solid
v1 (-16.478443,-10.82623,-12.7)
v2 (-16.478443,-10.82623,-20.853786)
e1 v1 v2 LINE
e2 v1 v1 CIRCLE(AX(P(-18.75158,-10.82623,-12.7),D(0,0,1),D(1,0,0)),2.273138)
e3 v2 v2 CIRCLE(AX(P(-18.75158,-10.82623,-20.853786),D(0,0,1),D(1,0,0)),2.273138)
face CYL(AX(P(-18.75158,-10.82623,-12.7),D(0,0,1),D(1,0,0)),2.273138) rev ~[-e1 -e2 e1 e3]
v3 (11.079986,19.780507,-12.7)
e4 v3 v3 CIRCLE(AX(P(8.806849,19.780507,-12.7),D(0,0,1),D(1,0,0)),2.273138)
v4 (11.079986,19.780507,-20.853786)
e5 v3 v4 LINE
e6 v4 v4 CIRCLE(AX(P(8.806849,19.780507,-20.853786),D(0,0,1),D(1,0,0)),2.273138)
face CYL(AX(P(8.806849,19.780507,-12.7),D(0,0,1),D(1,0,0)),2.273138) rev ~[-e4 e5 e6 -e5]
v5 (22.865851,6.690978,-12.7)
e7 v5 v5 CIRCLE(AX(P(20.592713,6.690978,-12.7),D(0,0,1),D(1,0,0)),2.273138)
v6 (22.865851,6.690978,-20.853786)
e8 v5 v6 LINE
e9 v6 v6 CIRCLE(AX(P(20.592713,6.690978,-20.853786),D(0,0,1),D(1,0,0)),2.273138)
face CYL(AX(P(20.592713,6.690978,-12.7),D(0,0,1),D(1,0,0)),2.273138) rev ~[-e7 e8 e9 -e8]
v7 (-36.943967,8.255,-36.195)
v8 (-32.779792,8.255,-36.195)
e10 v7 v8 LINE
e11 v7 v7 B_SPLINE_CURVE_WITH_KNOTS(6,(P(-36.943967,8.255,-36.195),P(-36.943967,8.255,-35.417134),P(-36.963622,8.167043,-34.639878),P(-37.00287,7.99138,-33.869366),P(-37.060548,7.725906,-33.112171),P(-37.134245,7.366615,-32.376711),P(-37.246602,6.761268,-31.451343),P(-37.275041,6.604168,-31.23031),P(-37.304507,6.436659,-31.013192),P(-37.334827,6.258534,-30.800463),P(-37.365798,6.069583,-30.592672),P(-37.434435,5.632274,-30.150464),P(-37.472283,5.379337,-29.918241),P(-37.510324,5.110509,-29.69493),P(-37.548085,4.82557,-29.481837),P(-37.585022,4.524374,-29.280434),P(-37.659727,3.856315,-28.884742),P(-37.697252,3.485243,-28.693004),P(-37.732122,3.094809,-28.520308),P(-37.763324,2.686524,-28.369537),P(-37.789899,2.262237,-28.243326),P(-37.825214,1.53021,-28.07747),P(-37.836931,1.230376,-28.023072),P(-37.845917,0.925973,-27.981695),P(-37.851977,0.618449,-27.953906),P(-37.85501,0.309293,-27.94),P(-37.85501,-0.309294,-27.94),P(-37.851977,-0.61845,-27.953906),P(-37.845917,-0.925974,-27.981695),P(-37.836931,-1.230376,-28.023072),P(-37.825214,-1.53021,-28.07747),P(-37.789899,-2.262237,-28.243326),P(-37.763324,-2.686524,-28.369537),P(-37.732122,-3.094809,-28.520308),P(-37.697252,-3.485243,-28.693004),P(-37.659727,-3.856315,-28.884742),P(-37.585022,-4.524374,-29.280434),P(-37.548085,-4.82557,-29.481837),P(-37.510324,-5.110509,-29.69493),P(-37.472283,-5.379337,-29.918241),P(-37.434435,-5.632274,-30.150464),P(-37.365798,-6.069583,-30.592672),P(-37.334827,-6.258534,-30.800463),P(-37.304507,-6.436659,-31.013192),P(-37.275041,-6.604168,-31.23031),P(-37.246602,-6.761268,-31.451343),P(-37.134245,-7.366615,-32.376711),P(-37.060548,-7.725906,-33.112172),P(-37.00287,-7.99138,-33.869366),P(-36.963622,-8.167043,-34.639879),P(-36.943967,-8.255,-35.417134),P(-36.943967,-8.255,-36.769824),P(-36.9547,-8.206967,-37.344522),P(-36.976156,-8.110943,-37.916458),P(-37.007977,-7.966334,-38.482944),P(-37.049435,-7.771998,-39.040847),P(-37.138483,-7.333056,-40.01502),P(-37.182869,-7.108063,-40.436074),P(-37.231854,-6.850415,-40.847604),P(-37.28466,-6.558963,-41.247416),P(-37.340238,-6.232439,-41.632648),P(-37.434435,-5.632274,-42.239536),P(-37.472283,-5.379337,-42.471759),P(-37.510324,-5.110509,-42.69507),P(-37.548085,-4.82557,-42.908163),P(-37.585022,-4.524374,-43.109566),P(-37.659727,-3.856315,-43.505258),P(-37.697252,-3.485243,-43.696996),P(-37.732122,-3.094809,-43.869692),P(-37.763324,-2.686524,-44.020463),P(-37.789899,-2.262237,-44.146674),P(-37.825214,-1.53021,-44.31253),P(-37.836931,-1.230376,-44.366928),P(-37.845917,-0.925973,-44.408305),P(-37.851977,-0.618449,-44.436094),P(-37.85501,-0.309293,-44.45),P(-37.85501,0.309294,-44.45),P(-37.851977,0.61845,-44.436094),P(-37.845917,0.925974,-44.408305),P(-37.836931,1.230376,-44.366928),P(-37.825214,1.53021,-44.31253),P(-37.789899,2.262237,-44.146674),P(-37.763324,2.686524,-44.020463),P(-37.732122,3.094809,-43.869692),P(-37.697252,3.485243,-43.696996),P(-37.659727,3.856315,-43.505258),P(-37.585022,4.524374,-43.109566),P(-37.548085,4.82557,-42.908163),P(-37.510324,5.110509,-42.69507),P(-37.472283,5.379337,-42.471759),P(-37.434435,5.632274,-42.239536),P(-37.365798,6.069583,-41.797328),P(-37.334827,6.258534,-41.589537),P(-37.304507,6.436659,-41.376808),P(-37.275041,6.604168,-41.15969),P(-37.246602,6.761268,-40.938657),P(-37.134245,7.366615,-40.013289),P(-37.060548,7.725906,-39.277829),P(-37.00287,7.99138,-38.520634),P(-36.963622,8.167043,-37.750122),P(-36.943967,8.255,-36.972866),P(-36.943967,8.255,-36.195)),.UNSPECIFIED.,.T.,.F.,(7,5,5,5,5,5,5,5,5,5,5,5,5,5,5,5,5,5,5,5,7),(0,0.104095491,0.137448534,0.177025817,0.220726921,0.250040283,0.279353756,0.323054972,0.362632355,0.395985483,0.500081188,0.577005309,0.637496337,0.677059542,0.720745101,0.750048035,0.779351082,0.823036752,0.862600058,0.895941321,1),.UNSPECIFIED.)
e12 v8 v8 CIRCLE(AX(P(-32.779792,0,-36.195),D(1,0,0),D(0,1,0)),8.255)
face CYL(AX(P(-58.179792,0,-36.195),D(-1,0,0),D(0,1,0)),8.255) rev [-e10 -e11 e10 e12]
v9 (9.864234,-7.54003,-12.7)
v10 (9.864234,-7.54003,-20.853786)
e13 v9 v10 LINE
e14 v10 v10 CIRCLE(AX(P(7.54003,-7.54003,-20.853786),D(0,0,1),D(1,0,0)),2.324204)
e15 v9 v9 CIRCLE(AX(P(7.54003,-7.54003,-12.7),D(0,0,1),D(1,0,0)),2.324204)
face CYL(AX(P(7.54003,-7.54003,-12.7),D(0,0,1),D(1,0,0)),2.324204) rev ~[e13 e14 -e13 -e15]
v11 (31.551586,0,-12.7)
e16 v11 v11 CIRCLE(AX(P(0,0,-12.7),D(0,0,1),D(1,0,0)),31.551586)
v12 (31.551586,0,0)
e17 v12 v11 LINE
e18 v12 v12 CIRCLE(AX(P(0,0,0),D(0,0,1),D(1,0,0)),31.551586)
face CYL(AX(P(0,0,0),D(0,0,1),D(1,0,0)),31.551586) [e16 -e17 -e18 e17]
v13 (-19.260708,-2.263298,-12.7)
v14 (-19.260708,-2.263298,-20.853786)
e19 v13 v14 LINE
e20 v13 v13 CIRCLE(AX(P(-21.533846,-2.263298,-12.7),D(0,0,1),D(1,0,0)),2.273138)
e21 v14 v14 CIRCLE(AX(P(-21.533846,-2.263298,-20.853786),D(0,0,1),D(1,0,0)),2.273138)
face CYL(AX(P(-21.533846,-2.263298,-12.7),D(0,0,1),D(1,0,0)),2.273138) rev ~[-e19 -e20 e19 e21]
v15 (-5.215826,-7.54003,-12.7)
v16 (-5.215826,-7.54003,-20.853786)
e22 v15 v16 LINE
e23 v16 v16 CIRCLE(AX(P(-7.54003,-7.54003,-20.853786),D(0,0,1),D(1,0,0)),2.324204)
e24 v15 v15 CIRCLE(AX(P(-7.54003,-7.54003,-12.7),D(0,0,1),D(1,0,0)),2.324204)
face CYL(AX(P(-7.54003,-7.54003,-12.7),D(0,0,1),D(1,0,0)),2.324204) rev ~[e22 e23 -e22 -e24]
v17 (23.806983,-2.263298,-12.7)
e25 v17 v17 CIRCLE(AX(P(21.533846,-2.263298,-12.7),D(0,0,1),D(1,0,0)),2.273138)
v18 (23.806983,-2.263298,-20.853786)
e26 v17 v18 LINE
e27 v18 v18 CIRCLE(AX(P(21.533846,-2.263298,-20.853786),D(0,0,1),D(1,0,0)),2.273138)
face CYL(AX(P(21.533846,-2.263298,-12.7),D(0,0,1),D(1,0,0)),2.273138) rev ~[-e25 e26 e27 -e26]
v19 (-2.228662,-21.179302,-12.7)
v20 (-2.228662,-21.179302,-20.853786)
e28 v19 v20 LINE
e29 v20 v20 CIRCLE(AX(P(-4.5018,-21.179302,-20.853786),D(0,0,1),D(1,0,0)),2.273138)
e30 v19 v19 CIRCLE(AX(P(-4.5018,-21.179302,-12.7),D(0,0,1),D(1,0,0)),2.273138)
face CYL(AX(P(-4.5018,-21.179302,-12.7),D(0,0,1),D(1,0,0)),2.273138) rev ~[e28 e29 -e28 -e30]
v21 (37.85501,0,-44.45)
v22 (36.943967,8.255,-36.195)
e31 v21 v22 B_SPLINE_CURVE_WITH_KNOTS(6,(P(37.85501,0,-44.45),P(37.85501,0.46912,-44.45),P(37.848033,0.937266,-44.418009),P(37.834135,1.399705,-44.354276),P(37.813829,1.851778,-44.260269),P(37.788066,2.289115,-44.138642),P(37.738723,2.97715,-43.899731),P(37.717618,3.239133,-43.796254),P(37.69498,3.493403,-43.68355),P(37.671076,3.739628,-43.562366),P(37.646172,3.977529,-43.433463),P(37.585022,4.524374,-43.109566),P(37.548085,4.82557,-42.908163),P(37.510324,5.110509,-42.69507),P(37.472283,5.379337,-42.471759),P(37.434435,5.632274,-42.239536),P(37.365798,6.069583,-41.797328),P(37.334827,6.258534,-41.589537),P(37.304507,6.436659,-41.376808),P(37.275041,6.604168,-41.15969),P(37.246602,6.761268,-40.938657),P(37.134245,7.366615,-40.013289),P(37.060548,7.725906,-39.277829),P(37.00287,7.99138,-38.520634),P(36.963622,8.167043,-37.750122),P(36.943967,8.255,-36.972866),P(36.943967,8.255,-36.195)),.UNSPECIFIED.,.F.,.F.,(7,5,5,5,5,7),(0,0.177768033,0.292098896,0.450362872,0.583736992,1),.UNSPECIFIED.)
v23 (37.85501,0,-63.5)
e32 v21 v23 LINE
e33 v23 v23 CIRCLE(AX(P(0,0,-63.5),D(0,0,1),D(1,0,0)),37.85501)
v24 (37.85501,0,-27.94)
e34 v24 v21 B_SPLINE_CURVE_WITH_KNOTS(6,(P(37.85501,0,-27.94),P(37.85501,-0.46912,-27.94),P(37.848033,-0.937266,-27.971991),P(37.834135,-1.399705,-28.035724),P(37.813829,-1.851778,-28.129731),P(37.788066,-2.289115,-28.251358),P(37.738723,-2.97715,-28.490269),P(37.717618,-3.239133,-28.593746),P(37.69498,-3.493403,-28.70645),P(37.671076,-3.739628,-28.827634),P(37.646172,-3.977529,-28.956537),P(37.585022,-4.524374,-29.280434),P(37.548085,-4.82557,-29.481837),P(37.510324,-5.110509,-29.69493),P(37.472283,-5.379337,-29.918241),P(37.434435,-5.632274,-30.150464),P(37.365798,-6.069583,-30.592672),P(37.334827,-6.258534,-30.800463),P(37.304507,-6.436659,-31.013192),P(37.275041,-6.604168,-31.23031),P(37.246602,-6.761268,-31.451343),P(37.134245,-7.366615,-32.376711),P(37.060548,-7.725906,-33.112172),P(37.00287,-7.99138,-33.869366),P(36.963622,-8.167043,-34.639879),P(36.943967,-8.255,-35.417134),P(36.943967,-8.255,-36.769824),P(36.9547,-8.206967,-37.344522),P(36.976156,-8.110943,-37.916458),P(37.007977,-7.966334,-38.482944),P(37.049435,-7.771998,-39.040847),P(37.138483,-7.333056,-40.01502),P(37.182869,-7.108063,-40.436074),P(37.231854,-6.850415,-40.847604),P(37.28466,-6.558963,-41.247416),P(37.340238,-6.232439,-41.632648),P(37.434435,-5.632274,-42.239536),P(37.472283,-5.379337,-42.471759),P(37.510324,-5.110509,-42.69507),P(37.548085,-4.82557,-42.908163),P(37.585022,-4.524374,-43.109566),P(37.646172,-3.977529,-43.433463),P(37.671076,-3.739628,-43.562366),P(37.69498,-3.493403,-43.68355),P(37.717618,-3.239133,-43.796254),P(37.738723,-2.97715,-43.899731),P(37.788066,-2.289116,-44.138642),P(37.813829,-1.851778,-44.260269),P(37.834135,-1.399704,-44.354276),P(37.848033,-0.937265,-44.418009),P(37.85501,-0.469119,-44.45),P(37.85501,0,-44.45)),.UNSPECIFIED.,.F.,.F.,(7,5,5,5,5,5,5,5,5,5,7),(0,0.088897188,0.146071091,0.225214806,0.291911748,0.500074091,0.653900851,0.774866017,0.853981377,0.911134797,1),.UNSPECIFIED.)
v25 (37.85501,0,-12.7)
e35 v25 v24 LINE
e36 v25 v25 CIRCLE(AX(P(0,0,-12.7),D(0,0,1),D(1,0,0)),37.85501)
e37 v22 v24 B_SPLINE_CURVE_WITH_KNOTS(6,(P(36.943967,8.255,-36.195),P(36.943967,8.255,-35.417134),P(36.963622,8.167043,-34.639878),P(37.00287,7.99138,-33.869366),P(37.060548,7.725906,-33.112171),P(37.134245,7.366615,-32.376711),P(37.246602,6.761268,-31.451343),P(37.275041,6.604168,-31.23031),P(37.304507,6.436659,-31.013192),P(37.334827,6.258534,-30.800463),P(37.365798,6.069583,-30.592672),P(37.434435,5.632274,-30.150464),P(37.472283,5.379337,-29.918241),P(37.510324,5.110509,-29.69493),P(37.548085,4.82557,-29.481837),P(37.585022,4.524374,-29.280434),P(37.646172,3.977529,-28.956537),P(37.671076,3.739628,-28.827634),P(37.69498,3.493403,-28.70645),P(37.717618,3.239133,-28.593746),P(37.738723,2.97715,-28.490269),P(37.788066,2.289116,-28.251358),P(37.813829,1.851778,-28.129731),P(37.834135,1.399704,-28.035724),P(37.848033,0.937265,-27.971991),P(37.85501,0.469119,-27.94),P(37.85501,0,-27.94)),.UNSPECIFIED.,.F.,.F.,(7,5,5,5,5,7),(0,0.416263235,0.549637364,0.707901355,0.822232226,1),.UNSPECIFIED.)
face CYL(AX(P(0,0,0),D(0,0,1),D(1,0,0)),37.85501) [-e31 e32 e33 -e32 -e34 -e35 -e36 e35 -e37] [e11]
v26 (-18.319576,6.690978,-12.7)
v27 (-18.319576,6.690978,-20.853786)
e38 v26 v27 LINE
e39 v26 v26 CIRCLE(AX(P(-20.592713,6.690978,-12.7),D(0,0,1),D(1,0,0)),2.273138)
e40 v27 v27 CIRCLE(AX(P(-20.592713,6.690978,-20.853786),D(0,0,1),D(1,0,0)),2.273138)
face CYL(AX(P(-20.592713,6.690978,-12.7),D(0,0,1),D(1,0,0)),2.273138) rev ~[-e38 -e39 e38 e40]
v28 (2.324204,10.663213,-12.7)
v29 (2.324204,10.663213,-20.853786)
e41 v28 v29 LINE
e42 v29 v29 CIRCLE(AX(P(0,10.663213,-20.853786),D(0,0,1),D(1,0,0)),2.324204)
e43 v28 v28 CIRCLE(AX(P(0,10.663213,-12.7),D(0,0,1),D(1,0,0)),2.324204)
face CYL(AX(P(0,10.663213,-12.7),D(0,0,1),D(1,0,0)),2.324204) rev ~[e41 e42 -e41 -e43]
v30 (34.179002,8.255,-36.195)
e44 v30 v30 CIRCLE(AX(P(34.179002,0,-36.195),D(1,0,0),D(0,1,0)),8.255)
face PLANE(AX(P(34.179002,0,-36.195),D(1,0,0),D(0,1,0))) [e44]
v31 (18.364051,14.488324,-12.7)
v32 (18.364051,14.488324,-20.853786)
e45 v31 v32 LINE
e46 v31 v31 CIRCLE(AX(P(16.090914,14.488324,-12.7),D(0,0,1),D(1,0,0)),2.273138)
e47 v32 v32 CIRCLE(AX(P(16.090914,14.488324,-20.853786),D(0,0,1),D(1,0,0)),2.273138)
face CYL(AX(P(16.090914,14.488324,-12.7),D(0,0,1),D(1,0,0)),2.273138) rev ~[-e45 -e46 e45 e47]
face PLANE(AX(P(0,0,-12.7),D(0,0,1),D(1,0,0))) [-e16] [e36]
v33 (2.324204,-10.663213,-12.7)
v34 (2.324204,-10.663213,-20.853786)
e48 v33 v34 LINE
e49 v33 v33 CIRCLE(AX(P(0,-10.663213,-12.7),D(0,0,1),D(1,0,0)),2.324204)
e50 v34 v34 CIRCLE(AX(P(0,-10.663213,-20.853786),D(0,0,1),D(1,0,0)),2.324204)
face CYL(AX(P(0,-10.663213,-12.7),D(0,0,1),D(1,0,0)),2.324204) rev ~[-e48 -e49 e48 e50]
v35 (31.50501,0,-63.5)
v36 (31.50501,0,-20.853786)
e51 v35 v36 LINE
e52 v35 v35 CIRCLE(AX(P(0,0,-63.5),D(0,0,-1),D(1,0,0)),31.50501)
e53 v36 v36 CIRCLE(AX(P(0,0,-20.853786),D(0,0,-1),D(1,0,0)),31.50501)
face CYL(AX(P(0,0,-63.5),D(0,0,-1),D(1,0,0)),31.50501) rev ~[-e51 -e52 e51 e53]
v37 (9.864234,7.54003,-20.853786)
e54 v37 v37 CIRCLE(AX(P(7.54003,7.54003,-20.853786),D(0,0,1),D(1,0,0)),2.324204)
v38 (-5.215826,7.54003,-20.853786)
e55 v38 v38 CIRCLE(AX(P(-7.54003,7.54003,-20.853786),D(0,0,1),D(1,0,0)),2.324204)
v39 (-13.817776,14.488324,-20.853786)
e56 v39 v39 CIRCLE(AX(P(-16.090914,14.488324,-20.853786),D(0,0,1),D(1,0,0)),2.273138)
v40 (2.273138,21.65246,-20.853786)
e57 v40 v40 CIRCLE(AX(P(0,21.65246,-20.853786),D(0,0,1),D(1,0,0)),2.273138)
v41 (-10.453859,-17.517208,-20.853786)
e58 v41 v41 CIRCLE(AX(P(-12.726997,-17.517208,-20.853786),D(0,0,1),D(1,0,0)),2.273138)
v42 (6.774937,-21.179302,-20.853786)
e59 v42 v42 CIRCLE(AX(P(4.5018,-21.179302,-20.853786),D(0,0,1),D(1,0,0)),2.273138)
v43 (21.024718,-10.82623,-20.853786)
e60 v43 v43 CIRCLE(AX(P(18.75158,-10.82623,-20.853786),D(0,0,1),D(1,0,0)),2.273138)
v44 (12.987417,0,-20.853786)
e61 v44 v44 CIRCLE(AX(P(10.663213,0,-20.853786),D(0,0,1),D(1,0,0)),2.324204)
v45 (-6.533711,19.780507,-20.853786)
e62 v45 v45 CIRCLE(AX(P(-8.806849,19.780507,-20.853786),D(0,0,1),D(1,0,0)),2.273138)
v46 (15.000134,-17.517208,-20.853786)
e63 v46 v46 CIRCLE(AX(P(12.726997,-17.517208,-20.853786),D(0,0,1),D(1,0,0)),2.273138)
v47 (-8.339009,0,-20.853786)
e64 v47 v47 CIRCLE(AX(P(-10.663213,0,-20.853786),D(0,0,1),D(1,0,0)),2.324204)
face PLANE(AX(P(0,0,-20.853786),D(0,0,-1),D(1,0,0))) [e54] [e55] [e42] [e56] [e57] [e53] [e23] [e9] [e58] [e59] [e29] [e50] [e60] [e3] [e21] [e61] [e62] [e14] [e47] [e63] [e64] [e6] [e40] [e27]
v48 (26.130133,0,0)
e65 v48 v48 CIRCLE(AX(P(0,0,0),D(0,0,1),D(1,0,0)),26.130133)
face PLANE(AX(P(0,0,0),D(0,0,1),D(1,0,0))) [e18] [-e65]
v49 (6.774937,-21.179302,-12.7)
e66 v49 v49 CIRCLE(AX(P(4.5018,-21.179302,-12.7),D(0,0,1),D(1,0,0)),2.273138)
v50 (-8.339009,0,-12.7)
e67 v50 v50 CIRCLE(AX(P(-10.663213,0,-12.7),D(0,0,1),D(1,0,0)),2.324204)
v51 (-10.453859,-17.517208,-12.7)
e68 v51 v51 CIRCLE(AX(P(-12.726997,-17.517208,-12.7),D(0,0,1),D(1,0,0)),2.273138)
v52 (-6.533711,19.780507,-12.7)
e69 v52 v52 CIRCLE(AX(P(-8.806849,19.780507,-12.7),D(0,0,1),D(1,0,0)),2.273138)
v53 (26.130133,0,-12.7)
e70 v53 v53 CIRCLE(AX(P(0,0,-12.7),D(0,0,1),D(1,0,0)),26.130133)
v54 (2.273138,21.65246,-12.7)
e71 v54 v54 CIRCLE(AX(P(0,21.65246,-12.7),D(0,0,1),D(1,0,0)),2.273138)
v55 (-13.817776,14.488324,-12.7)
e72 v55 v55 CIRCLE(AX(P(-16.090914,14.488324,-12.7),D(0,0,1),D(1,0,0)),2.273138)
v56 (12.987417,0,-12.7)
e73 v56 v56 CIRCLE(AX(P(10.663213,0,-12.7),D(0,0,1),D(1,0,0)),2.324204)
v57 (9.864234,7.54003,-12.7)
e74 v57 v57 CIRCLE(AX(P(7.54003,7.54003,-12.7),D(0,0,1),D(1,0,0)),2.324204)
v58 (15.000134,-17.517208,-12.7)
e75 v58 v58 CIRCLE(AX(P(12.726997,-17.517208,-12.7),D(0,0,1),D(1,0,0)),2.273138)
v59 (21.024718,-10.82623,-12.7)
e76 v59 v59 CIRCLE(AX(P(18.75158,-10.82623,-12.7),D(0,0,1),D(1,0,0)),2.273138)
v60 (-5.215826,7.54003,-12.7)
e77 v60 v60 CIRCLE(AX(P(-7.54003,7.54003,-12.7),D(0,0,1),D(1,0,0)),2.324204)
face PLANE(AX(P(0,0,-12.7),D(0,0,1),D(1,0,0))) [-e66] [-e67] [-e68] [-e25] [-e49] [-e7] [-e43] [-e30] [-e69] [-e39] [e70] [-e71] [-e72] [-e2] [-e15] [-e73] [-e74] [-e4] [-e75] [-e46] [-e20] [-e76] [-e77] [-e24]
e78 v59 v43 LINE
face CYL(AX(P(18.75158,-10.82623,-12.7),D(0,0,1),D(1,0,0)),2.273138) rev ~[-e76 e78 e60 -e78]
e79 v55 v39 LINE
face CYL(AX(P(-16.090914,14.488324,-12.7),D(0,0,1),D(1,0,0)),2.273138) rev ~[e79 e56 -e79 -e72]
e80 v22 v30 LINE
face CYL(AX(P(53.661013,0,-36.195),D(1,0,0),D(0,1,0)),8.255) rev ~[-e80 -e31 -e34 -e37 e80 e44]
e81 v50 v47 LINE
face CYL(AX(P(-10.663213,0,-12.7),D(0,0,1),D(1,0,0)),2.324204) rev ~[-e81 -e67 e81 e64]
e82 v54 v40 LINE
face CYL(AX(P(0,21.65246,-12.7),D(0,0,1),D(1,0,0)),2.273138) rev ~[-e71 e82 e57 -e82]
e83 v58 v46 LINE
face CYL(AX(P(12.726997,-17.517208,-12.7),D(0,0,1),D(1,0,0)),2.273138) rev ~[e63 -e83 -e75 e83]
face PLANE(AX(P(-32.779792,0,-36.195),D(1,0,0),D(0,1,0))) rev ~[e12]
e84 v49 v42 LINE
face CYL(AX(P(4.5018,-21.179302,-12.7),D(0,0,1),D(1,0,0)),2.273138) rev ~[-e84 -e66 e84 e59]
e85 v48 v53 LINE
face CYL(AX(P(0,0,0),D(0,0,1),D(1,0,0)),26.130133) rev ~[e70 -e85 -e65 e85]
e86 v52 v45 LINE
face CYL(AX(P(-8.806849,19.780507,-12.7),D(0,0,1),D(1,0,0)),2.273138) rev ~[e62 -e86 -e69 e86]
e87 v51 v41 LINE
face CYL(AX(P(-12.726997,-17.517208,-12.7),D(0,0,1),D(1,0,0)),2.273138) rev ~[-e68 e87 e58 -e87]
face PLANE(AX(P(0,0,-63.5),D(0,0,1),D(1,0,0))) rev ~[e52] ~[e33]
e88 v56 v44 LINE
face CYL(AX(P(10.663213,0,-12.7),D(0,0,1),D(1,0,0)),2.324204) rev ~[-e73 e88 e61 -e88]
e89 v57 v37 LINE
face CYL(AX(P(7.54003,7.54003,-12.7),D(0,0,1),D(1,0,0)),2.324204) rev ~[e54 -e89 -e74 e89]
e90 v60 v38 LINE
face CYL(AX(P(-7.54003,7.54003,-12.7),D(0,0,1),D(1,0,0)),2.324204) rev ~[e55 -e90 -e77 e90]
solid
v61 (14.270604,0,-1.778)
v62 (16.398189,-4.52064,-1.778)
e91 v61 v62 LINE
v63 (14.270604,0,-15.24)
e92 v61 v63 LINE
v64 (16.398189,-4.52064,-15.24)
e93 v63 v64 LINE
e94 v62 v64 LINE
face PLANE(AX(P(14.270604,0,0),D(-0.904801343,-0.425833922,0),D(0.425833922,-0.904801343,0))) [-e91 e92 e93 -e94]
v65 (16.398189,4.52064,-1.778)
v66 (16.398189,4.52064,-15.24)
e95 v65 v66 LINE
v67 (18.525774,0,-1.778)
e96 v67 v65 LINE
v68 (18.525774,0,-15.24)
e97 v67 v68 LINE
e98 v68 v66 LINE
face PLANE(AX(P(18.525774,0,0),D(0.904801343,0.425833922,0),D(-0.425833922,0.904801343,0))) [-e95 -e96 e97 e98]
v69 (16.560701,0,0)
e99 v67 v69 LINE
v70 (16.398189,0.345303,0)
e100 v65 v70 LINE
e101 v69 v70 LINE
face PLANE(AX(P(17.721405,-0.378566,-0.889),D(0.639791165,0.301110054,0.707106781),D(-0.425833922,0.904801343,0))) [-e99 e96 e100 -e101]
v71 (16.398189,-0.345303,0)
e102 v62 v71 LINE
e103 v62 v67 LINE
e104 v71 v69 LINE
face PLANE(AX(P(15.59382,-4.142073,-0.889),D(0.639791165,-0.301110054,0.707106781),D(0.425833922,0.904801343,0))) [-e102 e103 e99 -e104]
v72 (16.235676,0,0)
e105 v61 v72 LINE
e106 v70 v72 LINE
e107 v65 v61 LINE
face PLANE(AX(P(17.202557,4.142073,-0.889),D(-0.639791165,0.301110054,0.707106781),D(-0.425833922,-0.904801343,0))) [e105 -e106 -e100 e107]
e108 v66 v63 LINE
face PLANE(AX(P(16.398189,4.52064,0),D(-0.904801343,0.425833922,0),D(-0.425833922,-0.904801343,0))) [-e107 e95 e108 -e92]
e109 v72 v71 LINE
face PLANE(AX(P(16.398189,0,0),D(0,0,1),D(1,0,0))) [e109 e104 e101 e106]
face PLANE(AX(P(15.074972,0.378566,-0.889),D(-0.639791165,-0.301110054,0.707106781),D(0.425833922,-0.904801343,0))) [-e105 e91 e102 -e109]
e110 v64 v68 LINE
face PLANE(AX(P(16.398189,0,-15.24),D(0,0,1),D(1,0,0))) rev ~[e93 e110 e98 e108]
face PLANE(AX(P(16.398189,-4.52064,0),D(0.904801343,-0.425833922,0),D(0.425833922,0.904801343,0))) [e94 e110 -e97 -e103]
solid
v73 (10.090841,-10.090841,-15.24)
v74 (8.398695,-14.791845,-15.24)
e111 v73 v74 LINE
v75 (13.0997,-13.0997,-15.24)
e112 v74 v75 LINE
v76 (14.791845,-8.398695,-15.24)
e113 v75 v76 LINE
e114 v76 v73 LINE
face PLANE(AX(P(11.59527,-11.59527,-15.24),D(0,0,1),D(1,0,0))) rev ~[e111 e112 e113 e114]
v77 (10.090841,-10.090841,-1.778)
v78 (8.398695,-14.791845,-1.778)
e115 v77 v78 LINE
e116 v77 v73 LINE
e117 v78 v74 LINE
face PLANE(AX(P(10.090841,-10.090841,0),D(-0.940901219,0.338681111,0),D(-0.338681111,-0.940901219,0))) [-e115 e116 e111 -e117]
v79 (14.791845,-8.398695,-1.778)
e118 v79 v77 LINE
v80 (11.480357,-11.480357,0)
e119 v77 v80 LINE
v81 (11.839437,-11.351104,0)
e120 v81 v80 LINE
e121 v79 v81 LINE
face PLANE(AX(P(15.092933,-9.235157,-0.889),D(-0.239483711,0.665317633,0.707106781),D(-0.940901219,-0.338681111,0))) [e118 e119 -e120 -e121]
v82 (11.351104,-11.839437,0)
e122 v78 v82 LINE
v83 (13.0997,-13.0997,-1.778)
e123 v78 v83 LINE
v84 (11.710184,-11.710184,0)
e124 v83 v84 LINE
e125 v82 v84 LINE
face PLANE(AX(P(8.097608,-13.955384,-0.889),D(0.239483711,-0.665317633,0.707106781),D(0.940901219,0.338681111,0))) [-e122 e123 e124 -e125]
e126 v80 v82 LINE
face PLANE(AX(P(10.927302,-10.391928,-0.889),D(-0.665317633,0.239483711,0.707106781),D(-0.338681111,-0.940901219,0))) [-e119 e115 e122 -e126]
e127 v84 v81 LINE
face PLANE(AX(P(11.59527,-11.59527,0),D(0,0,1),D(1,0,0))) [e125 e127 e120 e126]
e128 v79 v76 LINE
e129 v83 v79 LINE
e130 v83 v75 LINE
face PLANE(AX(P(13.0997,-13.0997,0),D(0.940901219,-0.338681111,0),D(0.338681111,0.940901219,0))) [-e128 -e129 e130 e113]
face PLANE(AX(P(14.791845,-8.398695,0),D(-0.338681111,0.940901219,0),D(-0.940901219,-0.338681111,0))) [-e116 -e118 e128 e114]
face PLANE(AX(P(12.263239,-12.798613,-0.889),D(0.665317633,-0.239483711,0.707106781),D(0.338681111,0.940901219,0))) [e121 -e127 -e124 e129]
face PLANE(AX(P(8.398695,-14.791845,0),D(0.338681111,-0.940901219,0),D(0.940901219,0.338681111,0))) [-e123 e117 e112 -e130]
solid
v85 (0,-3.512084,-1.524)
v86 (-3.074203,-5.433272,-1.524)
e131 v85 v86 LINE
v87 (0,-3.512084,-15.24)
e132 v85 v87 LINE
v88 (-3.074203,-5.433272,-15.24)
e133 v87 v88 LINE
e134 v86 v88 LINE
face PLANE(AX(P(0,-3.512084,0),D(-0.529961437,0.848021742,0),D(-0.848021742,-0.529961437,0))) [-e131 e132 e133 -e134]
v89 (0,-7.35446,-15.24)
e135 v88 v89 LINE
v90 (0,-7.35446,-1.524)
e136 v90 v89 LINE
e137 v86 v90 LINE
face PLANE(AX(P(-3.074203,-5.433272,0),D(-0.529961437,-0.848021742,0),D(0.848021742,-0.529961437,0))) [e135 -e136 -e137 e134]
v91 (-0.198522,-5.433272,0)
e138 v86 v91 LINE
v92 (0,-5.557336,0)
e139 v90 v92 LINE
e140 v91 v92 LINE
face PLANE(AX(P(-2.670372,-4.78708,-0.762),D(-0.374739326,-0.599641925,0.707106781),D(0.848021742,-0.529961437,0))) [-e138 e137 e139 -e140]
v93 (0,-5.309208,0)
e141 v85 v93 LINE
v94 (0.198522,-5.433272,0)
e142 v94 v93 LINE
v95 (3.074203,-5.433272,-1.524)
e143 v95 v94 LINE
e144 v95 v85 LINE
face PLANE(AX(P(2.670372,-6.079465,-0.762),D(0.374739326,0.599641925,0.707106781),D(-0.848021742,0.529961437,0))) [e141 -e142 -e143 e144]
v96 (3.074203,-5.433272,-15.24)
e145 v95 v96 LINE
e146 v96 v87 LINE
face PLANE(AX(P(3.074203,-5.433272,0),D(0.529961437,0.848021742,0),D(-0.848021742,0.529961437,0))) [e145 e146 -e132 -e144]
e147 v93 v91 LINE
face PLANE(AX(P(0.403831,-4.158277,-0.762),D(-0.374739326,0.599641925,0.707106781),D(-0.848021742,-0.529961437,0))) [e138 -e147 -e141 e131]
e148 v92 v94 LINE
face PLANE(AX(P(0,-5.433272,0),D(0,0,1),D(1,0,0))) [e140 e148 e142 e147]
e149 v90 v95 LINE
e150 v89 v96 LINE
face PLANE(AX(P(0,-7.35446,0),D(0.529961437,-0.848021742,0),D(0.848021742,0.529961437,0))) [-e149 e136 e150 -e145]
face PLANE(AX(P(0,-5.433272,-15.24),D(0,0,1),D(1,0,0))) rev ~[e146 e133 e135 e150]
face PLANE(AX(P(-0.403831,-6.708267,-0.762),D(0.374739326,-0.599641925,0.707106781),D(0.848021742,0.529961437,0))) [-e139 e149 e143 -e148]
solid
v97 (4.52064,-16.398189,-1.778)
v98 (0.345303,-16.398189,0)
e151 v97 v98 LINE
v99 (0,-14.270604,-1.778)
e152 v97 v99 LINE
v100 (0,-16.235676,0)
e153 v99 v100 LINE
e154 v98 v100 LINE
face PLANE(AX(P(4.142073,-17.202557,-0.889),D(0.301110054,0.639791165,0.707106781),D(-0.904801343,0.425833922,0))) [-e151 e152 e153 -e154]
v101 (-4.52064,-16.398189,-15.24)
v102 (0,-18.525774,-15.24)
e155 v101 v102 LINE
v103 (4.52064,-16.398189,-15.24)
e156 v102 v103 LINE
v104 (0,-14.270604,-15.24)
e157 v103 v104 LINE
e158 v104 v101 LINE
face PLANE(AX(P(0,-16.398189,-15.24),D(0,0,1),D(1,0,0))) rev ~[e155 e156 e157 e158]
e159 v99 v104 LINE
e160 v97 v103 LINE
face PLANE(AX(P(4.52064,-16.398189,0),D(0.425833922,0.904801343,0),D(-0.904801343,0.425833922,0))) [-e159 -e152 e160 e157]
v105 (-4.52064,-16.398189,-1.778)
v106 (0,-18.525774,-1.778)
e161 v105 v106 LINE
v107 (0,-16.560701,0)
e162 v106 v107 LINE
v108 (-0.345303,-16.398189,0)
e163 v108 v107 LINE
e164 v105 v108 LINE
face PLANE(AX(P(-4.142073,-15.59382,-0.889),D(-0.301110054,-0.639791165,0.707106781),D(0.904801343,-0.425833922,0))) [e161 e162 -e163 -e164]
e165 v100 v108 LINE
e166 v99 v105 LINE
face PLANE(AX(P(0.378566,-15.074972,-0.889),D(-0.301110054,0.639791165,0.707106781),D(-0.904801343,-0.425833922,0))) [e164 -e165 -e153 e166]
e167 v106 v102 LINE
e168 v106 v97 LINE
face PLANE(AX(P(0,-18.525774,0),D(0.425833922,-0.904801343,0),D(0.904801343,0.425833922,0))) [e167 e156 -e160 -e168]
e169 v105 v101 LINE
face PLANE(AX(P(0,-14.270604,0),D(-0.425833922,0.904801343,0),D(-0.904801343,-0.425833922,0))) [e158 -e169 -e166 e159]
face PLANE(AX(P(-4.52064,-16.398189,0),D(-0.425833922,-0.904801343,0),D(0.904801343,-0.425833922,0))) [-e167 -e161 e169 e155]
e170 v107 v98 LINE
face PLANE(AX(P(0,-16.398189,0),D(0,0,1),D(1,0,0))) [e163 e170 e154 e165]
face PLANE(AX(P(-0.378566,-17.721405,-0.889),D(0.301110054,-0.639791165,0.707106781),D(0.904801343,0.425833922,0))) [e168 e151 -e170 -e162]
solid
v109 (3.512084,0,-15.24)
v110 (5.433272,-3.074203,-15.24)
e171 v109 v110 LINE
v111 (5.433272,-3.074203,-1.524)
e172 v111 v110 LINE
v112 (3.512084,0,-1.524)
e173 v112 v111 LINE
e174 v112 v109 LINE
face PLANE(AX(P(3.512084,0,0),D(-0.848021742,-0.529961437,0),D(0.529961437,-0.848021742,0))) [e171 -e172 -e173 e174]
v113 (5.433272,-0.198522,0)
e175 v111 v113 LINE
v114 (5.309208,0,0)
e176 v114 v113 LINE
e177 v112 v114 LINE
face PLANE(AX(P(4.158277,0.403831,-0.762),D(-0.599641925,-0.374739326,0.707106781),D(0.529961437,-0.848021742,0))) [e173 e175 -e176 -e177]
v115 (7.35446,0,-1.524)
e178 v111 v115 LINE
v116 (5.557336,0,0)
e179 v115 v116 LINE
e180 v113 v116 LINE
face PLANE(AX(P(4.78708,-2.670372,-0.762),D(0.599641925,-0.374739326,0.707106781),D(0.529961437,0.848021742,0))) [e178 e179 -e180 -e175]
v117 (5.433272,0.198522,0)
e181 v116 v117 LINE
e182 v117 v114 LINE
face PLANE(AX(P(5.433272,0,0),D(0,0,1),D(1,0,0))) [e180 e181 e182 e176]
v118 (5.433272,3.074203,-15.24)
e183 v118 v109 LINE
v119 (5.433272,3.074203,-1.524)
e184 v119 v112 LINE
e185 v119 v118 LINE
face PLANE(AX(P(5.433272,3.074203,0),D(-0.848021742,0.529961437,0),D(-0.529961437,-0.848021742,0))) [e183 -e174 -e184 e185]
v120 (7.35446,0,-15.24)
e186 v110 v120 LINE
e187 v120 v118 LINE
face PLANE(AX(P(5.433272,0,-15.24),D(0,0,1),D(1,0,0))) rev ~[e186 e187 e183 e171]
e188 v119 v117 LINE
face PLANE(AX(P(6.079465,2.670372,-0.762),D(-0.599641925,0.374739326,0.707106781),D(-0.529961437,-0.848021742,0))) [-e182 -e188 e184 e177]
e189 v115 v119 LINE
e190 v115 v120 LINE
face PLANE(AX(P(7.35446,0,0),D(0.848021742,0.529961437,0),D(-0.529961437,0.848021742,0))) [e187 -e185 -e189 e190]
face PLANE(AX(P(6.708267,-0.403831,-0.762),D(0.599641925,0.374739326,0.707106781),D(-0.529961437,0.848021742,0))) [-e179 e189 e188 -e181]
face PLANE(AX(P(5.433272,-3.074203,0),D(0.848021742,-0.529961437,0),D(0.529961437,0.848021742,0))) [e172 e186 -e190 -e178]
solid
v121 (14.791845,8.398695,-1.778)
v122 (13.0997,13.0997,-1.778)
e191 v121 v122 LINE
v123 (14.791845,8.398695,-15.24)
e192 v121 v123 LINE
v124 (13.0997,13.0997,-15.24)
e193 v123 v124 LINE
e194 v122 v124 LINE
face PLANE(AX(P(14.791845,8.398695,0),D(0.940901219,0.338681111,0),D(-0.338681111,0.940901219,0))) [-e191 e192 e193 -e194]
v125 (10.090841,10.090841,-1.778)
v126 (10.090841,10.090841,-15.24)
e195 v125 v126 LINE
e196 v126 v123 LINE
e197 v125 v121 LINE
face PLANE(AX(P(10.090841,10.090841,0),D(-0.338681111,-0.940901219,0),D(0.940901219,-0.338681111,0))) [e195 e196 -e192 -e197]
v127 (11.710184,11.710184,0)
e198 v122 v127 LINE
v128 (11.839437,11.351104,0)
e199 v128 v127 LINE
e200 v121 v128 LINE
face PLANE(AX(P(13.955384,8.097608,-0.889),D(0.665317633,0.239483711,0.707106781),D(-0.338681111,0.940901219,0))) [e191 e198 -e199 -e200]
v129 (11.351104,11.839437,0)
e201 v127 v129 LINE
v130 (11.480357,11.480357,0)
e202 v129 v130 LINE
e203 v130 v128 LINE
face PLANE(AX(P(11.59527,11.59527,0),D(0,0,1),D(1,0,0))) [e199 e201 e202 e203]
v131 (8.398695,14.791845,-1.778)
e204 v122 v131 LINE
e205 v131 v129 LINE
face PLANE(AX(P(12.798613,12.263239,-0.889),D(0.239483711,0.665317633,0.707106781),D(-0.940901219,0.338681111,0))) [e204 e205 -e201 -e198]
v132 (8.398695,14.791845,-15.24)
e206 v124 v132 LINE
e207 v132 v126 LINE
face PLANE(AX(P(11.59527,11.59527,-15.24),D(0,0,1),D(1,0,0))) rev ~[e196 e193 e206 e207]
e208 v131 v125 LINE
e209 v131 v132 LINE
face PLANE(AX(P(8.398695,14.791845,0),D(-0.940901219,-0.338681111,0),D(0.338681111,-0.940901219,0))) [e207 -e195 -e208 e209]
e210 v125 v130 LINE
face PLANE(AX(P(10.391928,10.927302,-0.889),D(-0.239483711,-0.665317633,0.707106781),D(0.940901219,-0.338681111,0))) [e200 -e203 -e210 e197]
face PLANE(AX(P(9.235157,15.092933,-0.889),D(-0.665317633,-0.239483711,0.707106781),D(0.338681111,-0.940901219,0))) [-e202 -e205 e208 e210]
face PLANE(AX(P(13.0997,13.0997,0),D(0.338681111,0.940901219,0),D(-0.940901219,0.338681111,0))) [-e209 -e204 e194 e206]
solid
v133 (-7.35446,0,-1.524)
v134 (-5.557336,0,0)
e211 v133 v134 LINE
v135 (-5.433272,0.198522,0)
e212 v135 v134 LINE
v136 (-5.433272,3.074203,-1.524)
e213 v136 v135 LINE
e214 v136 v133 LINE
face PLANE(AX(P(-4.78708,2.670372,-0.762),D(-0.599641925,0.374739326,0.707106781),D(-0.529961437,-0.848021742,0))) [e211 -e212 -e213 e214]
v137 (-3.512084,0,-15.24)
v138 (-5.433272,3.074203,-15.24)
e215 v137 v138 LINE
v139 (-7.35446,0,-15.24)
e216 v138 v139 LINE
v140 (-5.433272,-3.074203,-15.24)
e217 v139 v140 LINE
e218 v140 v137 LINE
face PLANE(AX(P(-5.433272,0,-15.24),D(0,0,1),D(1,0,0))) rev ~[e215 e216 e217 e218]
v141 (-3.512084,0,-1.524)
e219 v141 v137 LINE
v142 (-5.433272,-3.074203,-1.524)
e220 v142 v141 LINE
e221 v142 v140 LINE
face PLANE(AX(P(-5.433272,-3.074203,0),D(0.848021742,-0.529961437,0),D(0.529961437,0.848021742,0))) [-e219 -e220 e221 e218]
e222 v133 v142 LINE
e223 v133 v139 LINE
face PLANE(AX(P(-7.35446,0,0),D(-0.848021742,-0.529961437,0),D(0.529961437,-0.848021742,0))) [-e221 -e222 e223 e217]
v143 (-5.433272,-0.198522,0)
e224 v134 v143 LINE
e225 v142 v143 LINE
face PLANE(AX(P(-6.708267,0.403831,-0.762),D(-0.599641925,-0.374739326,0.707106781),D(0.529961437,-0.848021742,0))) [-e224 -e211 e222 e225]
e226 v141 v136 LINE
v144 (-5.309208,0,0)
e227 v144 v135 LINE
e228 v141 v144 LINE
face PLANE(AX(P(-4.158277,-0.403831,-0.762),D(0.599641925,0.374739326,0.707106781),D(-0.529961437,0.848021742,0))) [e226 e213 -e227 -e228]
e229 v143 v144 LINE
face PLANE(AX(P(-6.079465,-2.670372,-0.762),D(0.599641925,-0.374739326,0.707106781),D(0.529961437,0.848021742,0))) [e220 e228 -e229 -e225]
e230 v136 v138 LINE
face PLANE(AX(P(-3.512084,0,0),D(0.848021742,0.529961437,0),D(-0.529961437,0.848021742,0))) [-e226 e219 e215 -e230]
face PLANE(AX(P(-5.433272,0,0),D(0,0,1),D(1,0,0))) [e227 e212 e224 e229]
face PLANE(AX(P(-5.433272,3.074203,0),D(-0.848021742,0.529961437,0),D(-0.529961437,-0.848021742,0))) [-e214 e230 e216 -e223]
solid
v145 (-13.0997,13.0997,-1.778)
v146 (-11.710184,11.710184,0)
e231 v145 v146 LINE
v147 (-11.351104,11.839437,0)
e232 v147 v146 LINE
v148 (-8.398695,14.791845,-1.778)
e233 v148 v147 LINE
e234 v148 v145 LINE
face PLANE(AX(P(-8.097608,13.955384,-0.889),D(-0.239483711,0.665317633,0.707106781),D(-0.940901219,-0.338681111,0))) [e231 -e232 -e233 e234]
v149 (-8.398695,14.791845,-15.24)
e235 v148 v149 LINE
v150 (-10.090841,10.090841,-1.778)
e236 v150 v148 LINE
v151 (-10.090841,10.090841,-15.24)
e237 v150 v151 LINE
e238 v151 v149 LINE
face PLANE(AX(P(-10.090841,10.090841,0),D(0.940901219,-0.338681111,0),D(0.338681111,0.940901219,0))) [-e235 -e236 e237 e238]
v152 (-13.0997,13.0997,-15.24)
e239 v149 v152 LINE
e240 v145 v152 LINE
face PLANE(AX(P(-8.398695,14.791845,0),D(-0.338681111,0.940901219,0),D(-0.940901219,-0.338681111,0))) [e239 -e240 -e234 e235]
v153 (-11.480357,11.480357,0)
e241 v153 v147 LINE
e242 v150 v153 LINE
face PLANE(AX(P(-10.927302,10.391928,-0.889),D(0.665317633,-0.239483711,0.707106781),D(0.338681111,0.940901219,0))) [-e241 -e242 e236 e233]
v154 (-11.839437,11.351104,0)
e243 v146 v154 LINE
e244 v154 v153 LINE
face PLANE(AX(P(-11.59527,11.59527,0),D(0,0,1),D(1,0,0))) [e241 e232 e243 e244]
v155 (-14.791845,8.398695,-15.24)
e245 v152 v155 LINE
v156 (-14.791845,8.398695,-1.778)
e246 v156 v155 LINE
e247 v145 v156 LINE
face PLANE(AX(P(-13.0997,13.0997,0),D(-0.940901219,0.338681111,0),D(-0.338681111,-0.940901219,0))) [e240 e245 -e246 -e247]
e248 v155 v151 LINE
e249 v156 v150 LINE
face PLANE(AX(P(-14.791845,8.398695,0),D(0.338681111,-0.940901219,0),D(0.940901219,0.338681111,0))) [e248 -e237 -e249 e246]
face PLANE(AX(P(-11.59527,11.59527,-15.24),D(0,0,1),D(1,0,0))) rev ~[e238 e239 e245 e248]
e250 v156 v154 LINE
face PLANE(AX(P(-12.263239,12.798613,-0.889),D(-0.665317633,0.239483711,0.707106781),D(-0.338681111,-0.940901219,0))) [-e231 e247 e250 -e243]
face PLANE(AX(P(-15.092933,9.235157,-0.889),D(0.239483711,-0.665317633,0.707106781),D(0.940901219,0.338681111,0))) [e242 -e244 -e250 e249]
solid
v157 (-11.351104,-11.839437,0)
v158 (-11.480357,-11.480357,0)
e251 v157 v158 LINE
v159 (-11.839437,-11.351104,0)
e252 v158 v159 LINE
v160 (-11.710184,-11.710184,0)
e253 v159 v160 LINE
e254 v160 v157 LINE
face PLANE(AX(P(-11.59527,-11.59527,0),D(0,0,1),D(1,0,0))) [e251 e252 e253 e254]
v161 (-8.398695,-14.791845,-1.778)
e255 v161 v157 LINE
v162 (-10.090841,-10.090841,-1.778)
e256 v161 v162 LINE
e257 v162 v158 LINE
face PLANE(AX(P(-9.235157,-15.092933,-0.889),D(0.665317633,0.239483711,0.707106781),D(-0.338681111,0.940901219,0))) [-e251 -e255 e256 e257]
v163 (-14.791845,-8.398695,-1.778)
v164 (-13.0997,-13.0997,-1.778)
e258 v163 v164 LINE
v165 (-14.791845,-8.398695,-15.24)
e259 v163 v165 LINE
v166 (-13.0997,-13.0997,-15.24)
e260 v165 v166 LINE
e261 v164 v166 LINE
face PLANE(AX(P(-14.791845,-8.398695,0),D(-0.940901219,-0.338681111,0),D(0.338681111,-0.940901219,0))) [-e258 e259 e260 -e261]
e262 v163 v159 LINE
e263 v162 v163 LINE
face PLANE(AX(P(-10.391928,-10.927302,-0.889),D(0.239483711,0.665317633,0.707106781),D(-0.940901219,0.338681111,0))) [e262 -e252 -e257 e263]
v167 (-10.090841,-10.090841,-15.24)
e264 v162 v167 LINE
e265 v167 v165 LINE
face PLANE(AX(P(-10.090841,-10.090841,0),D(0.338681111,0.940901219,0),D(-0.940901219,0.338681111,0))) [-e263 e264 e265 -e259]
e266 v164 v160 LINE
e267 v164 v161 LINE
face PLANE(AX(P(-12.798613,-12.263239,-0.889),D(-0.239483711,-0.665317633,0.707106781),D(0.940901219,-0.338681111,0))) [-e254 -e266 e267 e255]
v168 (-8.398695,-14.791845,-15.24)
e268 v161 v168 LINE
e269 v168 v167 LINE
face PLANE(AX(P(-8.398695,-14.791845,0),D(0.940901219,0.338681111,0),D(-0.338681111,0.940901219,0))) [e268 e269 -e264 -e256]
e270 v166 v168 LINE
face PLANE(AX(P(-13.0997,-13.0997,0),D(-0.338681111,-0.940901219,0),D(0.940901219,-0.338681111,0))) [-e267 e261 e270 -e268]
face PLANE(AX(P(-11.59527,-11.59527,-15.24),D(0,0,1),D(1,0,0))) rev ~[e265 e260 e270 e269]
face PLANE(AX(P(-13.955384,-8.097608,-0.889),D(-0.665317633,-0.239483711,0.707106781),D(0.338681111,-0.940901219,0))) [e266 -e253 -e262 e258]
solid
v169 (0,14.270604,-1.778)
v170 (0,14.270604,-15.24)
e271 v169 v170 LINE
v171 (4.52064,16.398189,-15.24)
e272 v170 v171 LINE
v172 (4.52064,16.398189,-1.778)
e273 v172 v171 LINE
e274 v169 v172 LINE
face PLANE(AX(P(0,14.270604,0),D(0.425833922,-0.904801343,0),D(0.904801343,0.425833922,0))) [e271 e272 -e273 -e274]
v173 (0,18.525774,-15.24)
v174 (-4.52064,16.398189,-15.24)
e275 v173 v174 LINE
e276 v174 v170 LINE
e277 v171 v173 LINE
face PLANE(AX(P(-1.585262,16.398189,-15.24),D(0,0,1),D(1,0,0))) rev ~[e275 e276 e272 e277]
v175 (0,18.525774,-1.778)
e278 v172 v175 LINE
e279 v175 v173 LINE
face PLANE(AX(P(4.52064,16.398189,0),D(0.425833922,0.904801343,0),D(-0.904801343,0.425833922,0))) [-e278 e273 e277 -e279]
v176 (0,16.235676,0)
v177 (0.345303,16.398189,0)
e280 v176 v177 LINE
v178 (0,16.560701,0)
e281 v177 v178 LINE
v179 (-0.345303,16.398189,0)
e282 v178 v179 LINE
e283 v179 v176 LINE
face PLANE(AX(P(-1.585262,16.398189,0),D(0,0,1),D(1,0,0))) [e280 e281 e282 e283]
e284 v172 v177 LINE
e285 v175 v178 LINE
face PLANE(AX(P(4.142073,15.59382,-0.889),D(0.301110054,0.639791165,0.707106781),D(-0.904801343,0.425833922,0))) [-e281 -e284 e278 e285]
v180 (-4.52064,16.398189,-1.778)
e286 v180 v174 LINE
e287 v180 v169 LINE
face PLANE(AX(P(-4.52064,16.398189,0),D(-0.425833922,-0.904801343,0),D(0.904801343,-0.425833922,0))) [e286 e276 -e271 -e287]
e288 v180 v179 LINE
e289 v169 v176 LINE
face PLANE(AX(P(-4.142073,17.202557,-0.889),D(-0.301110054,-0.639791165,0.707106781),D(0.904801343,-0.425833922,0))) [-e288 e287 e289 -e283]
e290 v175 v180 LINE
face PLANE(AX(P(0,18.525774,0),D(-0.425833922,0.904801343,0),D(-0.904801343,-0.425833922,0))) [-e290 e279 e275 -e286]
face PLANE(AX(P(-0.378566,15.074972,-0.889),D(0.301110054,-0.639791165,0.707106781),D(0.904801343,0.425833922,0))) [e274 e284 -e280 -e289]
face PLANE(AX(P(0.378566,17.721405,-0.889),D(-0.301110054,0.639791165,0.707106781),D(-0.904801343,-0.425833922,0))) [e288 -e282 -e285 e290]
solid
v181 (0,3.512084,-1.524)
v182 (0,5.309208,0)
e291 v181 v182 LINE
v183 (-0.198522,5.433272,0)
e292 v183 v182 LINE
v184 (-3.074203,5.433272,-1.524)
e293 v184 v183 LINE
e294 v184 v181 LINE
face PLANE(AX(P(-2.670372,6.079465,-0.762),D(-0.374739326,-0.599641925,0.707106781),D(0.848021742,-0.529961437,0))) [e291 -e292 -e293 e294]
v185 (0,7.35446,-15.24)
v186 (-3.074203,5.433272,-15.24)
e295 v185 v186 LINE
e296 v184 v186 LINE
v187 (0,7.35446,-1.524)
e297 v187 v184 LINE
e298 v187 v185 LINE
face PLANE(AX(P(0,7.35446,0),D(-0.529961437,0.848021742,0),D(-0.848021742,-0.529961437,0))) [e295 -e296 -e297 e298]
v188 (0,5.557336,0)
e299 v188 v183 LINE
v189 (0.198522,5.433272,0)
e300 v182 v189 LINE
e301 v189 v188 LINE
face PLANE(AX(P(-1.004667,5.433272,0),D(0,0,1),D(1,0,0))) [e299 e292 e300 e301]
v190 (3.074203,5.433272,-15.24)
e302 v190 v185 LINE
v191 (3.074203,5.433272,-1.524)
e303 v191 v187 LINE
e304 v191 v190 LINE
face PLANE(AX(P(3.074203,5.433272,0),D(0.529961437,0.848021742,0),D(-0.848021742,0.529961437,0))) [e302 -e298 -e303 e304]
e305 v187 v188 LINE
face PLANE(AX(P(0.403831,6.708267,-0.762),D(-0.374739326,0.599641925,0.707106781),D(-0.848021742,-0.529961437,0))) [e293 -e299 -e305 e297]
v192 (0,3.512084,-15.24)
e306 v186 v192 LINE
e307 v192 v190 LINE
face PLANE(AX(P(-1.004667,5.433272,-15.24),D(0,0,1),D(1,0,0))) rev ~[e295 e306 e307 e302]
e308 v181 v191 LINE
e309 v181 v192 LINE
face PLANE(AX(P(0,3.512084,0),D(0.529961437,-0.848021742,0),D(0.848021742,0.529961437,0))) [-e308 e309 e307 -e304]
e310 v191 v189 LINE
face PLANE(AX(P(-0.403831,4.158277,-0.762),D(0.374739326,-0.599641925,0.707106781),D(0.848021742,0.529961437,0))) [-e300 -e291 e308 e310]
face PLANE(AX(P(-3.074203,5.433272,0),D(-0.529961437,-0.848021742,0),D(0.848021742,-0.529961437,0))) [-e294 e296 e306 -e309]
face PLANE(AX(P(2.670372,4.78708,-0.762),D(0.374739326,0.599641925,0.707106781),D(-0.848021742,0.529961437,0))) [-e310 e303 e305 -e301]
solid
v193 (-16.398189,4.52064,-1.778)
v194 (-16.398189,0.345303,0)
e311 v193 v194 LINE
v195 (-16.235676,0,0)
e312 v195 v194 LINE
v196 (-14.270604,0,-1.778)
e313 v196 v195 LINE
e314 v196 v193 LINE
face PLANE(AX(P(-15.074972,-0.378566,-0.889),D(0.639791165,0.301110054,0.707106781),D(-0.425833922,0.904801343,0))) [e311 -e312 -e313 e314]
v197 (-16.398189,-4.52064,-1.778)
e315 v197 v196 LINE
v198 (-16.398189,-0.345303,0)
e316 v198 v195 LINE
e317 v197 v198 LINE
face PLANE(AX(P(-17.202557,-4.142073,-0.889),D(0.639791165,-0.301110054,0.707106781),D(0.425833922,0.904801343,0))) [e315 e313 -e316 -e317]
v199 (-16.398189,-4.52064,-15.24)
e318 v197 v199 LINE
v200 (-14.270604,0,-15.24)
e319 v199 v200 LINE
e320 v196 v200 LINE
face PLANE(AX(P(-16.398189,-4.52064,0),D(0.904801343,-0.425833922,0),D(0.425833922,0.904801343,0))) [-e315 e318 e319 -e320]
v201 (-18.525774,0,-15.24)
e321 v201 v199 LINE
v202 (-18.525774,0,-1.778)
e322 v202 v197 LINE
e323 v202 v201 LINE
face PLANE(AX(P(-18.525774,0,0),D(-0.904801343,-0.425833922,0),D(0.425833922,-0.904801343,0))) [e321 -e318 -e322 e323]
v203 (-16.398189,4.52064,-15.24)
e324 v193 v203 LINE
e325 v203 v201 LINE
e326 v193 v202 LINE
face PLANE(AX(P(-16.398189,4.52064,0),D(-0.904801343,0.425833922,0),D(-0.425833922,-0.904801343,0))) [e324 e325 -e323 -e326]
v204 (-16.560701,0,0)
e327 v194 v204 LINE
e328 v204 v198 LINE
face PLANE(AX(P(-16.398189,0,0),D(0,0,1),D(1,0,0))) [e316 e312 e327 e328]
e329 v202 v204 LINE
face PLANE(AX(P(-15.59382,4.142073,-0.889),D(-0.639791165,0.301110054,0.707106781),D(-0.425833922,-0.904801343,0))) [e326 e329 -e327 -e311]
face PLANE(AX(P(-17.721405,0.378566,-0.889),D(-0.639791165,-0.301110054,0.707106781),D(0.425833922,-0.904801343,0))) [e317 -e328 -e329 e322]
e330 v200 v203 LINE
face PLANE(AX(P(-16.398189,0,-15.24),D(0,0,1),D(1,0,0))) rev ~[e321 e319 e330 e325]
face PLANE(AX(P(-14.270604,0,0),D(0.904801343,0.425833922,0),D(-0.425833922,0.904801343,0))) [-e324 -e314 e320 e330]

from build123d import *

# Parameters (mm, degrees)
F0_R      = 37.8550096291
F0_R_2    = 31.5515858066
F0_R_3    = 26.130133247
F0_R_4    = 18.3237488537
F0_R_5    = 14.259033604
F0_R_6    = 7.4916685754
F0_R_7    = 3.7166249412
F1_DEPTH  = 63.5
F2_DEPTH  = 12.7
F4_R      = 23.1074511848
F5_DEPTH  = 12.7
F6_DEPTH  = 15.24
F7_SIZE   = 1.778
F7_2_SIZE = 1.778
F7_3_SIZE = 1.778
F7_4_SIZE = 1.778
F7_5_SIZE = 1.778
F7_6_SIZE = 1.778
F7_7_SIZE = 1.778
F7_8_SIZE = 1.778
F8_SIZE   = 1.524
F8_2_SIZE = 1.524
F8_3_SIZE = 1.524
F8_4_SIZE = 1.524
F9_R      = 31.5050096291
F10_DEPTH = 42.646214366
F11_R     = 2.273137557
F11_R_2   = 2.3242040228
F12_DEPTH = 25.4
F14_R     = 8.255
F15_DEPTH = 19.4820109755
F17_R     = 8.255
F18_DEPTH = 25.4


with BuildPart() as f1:
    # F0 (on Top) → F1 (new body)
    with BuildSketch(Plane.XY):
        Circle(F0_R)
        Circle(F0_R_2, mode=Mode.SUBTRACT)
        Circle(F0_R_2)
        Circle(F0_R_3, mode=Mode.SUBTRACT)
        Circle(F0_R_3)
        Circle(F0_R_4, mode=Mode.SUBTRACT)
        Circle(F0_R_4)
        Circle(F0_R_5, mode=Mode.SUBTRACT)
        Circle(F0_R_5)
        Circle(F0_R_6, mode=Mode.SUBTRACT)
        Circle(F0_R_6)
        Circle(F0_R_7, mode=Mode.SUBTRACT)
        Circle(F0_R_7)
    extrude(amount=-F1_DEPTH)

    # F0 (on Top) → F2 (cut)
    with BuildSketch(Plane.XY):
        Circle(F0_R)
        Circle(F0_R_2, mode=Mode.SUBTRACT)
        Circle(F0_R_3)
        Circle(F0_R_4, mode=Mode.SUBTRACT)
        Circle(F0_R_5)
        Circle(F0_R_6, mode=Mode.SUBTRACT)
        Circle(F0_R_7)
    extrude(amount=-F2_DEPTH, mode=Mode.SUBTRACT)

    # F4 (on Top) → F5 (cut)
    with BuildSketch(Plane.XY):
        Circle(F4_R)
    extrude(amount=-F5_DEPTH, mode=Mode.SUBTRACT)

    # F9 (on face) → F10 (cut)
    with BuildSketch(Plane(origin=(0, 0, -63.5), x_dir=(1, 0, 0), z_dir=(0, 0, -1))):
        Circle(F9_R)
    extrude(amount=-F10_DEPTH, mode=Mode.SUBTRACT)

    # F11 (on face) → F12 (cut)
    with BuildSketch(Plane.XY.offset(-12.7)):
        with Locations((0, 21.6524600983)):
            Circle(F11_R)
        with Locations((-8.8068489347, 19.7805065696)):
            Circle(F11_R)
        with Locations((-16.0909136809, 14.4883237547)):
            Circle(F11_R)
        with Locations((-20.5927132703, 6.6909781404)):
            Circle(F11_R)
        with Locations((-21.5338456563, -2.26329838)):
            Circle(F11_R)
        with Locations((-18.7515804995, -10.8262300491)):
            Circle(F11_R)
        with Locations((-12.7269967216, -17.5172081895)):
            Circle(F11_R)
        with Locations((-4.5017995894, -21.1793018951)):
            Circle(F11_R)
        with Locations((4.5017995894, -21.1793018951)):
            Circle(F11_R)
        with Locations((12.7269967216, -17.5172081895)):
            Circle(F11_R)
        with Locations((18.7515804995, -10.8262300491)):
            Circle(F11_R)
        with Locations((21.5338456563, -2.26329838)):
            Circle(F11_R)
        with Locations((20.5927132703, 6.6909781404)):
            Circle(F11_R)
        with Locations((16.0909136809, 14.4883237547)):
            Circle(F11_R)
        with Locations((8.8068489347, 19.7805065696)):
            Circle(F11_R)
        with Locations((0, 10.6632132083)):
            Circle(F11_R_2)
        with Locations((-7.5400303688, 7.5400303688)):
            Circle(F11_R_2)
        with Locations((-10.6632132083, 0)):
            Circle(F11_R_2)
        with Locations((-7.5400303688, -7.5400303688)):
            Circle(F11_R_2)
        with Locations((0, -10.6632132083)):
            Circle(F11_R_2)
        with Locations((7.5400303688, -7.5400303688)):
            Circle(F11_R_2)
        with Locations((10.6632132083, 0)):
            Circle(F11_R_2)
        with Locations((7.5400303688, 7.5400303688)):
            Circle(F11_R_2)
    extrude(amount=-F12_DEPTH, mode=Mode.SUBTRACT)

    # F14 (on offset) → F15 (cut)
    with BuildSketch(Plane.YZ.offset(53.6610130221)):
        with Locations((0, -36.195)):
            Circle(F14_R)
    extrude(amount=-F15_DEPTH, mode=Mode.SUBTRACT)

    # F17 (on offset) → F18 (cut)
    with BuildSketch(Plane.YZ.offset(-58.1797920167)):
        with Locations((0, -36.195)):
            Circle(F17_R)
    extrude(amount=F18_DEPTH, mode=Mode.SUBTRACT)


with BuildPart() as f6:
    # F3 (on Top) → F6 (new body)
    with BuildSketch(Plane.XY):
        Polygon((-3.0742026865, 5.4332721047), (0, 3.5120844841), (0, 7.3544597253), align=None)
        Polygon((0, 7.3544597253), (0, 3.5120844841), (3.0742026865, 5.4332721047), align=None)
    extrude(amount=-F6_DEPTH)

    # F8
    f8_edges = [f6.edges().sort_by_distance(p)[0] for p in [
        (-1.537101, 6.393866, 0),
        (-1.537101, 4.472678, 0),
        (1.537101, 4.472678, 0),
        (1.537101, 6.393866, 0),
    ]]
    chamfer(f8_edges, length=F8_SIZE)


with BuildPart() as f6b:
    # F3 (on Top) → F6, piece 2 (new body)
    with BuildSketch(Plane.XY):
        Polygon((-5.4332721047, 3.0742026865), (-7.3544597253, 0), (-5.4332721047, -3.0742026865), (-3.5120844841, 0), align=None)
    extrude(amount=-F6_DEPTH)

    # F8#4
    f8_4_edges = [f6b.edges().sort_by_distance(p)[0] for p in [
        (-4.472678, -1.537101, 0),
        (-6.393866, -1.537101, 0),
        (-6.393866, 1.537101, 0),
        (-4.472678, 1.537101, 0),
    ]]
    chamfer(f8_4_edges, length=F8_4_SIZE)


with BuildPart() as f6c:
    # F3 (on Top) → F6, piece 3 (new body)
    with BuildSketch(Plane.XY):
        Polygon((-3.0742026865, -5.4332721047), (0, -7.3544597253), (3.0742026865, -5.4332721047), (0, -3.5120844841), align=None)
    extrude(amount=-F6_DEPTH)

    # F8#3
    f8_3_edges = [f6c.edges().sort_by_distance(p)[0] for p in [
        (1.537101, -6.393866, 0),
        (1.537101, -4.472678, 0),
        (-1.537101, -4.472678, 0),
        (-1.537101, -6.393866, 0),
    ]]
    chamfer(f8_3_edges, length=F8_3_SIZE)


with BuildPart() as f6d:
    # F3 (on Top) → F6, piece 4 (new body)
    with BuildSketch(Plane.XY):
        Polygon((5.4332721047, -3.0742026865), (7.3544597253, 0), (5.4332721047, 3.0742026865), (3.5120844841, 0), align=None)
    extrude(amount=-F6_DEPTH)

    # F8#2
    f8_2_edges = [f6d.edges().sort_by_distance(p)[0] for p in [
        (4.472678, 1.537101, 0),
        (6.393866, 1.537101, 0),
        (6.393866, -1.537101, 0),
        (4.472678, -1.537101, 0),
    ]]
    chamfer(f8_2_edges, length=F8_2_SIZE)


with BuildPart() as f6e:
    # F3 (on Top) → F6, piece 5 (new body)
    with BuildSketch(Plane.XY):
        Polygon((-4.5206397772, 16.3981886581), (0, 14.2706036568), (0, 18.5257736593), align=None)
        Polygon((0, 18.5257736593), (0, 14.2706036568), (4.5206397772, 16.3981886581), align=None)
    extrude(amount=-F6_DEPTH)

    # F7#8
    f7_8_edges = [f6e.edges().sort_by_distance(p)[0] for p in [
        (2.26032, 15.334396, 0),
        (-2.26032, 15.334396, 0),
        (-2.26032, 17.461981, 0),
        (2.26032, 17.461981, 0),
    ]]
    chamfer(f7_8_edges, length=F7_8_SIZE)


with BuildPart() as f6f:
    # F3 (on Top) → F6, piece 6 (new body)
    with BuildSketch(Plane.XY):
        Polygon((-8.3986953575, 14.791845441), (-13.0997001813, 13.0997001813), (-14.791845441, 8.3986953575), (-10.0908406173, 10.0908406173), align=None)
    extrude(amount=-F6_DEPTH)

    # F7#5
    f7_5_edges = [f6f.edges().sort_by_distance(p)[0] for p in [
        (-12.441343, 9.244768, 0),
        (-9.244768, 12.441343, 0),
        (-10.749198, 13.945773, 0),
        (-13.945773, 10.749198, 0),
    ]]
    chamfer(f7_5_edges, length=F7_5_SIZE)


with BuildPart() as f6g:
    # F3 (on Top) → F6, piece 7 (new body)
    with BuildSketch(Plane.XY):
        Polygon((-16.3981886581, 4.5206397772), (-18.5257736593, 0), (-16.3981886581, -4.5206397772), (-14.2706036568, 0), align=None)
    extrude(amount=-F6_DEPTH)

    # F7
    f7_edges = [f6g.edges().sort_by_distance(p)[0] for p in [
        (-17.461981, -2.26032, 0),
        (-17.461981, 2.26032, 0),
        (-15.334396, 2.26032, 0),
        (-15.334396, -2.26032, 0),
    ]]
    chamfer(f7_edges, length=F7_SIZE)


with BuildPart() as f6h:
    # F3 (on Top) → F6, piece 8 (new body)
    with BuildSketch(Plane.XY):
        Polygon((-14.791845441, -8.3986953575), (-13.0997001813, -13.0997001813), (-8.3986953575, -14.791845441), (-10.0908406173, -10.0908406173), align=None)
    extrude(amount=-F6_DEPTH)

    # F7#2
    f7_2_edges = [f6h.edges().sort_by_distance(p)[0] for p in [
        (-13.945773, -10.749198, 0),
        (-9.244768, -12.441343, 0),
        (-12.441343, -9.244768, 0),
        (-10.749198, -13.945773, 0),
    ]]
    chamfer(f7_2_edges, length=F7_2_SIZE)


with BuildPart() as f6i:
    # F3 (on Top) → F6, piece 9 (new body)
    with BuildSketch(Plane.XY):
        Polygon((-4.5206397772, -16.3981886581), (0, -18.5257736593), (4.5206397772, -16.3981886581), (0, -14.2706036568), align=None)
    extrude(amount=-F6_DEPTH)

    # F7#3
    f7_3_edges = [f6i.edges().sort_by_distance(p)[0] for p in [
        (-2.26032, -15.334396, 0),
        (-2.26032, -17.461981, 0),
        (2.26032, -15.334396, 0),
        (2.26032, -17.461981, 0),
    ]]
    chamfer(f7_3_edges, length=F7_3_SIZE)


with BuildPart() as f6j:
    # F3 (on Top) → F6, piece 10 (new body)
    with BuildSketch(Plane.XY):
        Polygon((8.3986953575, -14.791845441), (13.0997001813, -13.0997001813), (14.791845441, -8.3986953575), (10.0908406173, -10.0908406173), align=None)
    extrude(amount=-F6_DEPTH)

    # F7#4
    f7_4_edges = [f6j.edges().sort_by_distance(p)[0] for p in [
        (10.749198, -13.945773, 0),
        (9.244768, -12.441343, 0),
        (12.441343, -9.244768, 0),
        (13.945773, -10.749198, 0),
    ]]
    chamfer(f7_4_edges, length=F7_4_SIZE)


with BuildPart() as f6k:
    # F3 (on Top) → F6, piece 11 (new body)
    with BuildSketch(Plane.XY):
        Polygon((16.3981886581, -4.5206397772), (18.5257736593, 0), (16.3981886581, 4.5206397772), (14.2706036568, 0), align=None)
    extrude(amount=-F6_DEPTH)

    # F7#6
    f7_6_edges = [f6k.edges().sort_by_distance(p)[0] for p in [
        (15.334396, 2.26032, 0),
        (15.334396, -2.26032, 0),
        (17.461981, -2.26032, 0),
        (17.461981, 2.26032, 0),
    ]]
    chamfer(f7_6_edges, length=F7_6_SIZE)


with BuildPart() as f6l:
    # F3 (on Top) → F6, piece 12 (new body)
    with BuildSketch(Plane.XY):
        Polygon((14.791845441, 8.3986953575), (13.0997001813, 13.0997001813), (8.3986953575, 14.791845441), (10.0908406173, 10.0908406173), align=None)
    extrude(amount=-F6_DEPTH)

    # F7#7
    f7_7_edges = [f6l.edges().sort_by_distance(p)[0] for p in [
        (13.945773, 10.749198, 0),
        (10.749198, 13.945773, 0),
        (9.244768, 12.441343, 0),
        (12.441343, 9.244768, 0),
    ]]
    chamfer(f7_7_edges, length=F7_7_SIZE)


solid = Compound([f1.part, f6.part, f6b.part, f6c.part, f6d.part, f6e.part, f6f.part, f6g.part, f6h.part, f6i.part, f6j.part, f6k.part, f6l.part])
